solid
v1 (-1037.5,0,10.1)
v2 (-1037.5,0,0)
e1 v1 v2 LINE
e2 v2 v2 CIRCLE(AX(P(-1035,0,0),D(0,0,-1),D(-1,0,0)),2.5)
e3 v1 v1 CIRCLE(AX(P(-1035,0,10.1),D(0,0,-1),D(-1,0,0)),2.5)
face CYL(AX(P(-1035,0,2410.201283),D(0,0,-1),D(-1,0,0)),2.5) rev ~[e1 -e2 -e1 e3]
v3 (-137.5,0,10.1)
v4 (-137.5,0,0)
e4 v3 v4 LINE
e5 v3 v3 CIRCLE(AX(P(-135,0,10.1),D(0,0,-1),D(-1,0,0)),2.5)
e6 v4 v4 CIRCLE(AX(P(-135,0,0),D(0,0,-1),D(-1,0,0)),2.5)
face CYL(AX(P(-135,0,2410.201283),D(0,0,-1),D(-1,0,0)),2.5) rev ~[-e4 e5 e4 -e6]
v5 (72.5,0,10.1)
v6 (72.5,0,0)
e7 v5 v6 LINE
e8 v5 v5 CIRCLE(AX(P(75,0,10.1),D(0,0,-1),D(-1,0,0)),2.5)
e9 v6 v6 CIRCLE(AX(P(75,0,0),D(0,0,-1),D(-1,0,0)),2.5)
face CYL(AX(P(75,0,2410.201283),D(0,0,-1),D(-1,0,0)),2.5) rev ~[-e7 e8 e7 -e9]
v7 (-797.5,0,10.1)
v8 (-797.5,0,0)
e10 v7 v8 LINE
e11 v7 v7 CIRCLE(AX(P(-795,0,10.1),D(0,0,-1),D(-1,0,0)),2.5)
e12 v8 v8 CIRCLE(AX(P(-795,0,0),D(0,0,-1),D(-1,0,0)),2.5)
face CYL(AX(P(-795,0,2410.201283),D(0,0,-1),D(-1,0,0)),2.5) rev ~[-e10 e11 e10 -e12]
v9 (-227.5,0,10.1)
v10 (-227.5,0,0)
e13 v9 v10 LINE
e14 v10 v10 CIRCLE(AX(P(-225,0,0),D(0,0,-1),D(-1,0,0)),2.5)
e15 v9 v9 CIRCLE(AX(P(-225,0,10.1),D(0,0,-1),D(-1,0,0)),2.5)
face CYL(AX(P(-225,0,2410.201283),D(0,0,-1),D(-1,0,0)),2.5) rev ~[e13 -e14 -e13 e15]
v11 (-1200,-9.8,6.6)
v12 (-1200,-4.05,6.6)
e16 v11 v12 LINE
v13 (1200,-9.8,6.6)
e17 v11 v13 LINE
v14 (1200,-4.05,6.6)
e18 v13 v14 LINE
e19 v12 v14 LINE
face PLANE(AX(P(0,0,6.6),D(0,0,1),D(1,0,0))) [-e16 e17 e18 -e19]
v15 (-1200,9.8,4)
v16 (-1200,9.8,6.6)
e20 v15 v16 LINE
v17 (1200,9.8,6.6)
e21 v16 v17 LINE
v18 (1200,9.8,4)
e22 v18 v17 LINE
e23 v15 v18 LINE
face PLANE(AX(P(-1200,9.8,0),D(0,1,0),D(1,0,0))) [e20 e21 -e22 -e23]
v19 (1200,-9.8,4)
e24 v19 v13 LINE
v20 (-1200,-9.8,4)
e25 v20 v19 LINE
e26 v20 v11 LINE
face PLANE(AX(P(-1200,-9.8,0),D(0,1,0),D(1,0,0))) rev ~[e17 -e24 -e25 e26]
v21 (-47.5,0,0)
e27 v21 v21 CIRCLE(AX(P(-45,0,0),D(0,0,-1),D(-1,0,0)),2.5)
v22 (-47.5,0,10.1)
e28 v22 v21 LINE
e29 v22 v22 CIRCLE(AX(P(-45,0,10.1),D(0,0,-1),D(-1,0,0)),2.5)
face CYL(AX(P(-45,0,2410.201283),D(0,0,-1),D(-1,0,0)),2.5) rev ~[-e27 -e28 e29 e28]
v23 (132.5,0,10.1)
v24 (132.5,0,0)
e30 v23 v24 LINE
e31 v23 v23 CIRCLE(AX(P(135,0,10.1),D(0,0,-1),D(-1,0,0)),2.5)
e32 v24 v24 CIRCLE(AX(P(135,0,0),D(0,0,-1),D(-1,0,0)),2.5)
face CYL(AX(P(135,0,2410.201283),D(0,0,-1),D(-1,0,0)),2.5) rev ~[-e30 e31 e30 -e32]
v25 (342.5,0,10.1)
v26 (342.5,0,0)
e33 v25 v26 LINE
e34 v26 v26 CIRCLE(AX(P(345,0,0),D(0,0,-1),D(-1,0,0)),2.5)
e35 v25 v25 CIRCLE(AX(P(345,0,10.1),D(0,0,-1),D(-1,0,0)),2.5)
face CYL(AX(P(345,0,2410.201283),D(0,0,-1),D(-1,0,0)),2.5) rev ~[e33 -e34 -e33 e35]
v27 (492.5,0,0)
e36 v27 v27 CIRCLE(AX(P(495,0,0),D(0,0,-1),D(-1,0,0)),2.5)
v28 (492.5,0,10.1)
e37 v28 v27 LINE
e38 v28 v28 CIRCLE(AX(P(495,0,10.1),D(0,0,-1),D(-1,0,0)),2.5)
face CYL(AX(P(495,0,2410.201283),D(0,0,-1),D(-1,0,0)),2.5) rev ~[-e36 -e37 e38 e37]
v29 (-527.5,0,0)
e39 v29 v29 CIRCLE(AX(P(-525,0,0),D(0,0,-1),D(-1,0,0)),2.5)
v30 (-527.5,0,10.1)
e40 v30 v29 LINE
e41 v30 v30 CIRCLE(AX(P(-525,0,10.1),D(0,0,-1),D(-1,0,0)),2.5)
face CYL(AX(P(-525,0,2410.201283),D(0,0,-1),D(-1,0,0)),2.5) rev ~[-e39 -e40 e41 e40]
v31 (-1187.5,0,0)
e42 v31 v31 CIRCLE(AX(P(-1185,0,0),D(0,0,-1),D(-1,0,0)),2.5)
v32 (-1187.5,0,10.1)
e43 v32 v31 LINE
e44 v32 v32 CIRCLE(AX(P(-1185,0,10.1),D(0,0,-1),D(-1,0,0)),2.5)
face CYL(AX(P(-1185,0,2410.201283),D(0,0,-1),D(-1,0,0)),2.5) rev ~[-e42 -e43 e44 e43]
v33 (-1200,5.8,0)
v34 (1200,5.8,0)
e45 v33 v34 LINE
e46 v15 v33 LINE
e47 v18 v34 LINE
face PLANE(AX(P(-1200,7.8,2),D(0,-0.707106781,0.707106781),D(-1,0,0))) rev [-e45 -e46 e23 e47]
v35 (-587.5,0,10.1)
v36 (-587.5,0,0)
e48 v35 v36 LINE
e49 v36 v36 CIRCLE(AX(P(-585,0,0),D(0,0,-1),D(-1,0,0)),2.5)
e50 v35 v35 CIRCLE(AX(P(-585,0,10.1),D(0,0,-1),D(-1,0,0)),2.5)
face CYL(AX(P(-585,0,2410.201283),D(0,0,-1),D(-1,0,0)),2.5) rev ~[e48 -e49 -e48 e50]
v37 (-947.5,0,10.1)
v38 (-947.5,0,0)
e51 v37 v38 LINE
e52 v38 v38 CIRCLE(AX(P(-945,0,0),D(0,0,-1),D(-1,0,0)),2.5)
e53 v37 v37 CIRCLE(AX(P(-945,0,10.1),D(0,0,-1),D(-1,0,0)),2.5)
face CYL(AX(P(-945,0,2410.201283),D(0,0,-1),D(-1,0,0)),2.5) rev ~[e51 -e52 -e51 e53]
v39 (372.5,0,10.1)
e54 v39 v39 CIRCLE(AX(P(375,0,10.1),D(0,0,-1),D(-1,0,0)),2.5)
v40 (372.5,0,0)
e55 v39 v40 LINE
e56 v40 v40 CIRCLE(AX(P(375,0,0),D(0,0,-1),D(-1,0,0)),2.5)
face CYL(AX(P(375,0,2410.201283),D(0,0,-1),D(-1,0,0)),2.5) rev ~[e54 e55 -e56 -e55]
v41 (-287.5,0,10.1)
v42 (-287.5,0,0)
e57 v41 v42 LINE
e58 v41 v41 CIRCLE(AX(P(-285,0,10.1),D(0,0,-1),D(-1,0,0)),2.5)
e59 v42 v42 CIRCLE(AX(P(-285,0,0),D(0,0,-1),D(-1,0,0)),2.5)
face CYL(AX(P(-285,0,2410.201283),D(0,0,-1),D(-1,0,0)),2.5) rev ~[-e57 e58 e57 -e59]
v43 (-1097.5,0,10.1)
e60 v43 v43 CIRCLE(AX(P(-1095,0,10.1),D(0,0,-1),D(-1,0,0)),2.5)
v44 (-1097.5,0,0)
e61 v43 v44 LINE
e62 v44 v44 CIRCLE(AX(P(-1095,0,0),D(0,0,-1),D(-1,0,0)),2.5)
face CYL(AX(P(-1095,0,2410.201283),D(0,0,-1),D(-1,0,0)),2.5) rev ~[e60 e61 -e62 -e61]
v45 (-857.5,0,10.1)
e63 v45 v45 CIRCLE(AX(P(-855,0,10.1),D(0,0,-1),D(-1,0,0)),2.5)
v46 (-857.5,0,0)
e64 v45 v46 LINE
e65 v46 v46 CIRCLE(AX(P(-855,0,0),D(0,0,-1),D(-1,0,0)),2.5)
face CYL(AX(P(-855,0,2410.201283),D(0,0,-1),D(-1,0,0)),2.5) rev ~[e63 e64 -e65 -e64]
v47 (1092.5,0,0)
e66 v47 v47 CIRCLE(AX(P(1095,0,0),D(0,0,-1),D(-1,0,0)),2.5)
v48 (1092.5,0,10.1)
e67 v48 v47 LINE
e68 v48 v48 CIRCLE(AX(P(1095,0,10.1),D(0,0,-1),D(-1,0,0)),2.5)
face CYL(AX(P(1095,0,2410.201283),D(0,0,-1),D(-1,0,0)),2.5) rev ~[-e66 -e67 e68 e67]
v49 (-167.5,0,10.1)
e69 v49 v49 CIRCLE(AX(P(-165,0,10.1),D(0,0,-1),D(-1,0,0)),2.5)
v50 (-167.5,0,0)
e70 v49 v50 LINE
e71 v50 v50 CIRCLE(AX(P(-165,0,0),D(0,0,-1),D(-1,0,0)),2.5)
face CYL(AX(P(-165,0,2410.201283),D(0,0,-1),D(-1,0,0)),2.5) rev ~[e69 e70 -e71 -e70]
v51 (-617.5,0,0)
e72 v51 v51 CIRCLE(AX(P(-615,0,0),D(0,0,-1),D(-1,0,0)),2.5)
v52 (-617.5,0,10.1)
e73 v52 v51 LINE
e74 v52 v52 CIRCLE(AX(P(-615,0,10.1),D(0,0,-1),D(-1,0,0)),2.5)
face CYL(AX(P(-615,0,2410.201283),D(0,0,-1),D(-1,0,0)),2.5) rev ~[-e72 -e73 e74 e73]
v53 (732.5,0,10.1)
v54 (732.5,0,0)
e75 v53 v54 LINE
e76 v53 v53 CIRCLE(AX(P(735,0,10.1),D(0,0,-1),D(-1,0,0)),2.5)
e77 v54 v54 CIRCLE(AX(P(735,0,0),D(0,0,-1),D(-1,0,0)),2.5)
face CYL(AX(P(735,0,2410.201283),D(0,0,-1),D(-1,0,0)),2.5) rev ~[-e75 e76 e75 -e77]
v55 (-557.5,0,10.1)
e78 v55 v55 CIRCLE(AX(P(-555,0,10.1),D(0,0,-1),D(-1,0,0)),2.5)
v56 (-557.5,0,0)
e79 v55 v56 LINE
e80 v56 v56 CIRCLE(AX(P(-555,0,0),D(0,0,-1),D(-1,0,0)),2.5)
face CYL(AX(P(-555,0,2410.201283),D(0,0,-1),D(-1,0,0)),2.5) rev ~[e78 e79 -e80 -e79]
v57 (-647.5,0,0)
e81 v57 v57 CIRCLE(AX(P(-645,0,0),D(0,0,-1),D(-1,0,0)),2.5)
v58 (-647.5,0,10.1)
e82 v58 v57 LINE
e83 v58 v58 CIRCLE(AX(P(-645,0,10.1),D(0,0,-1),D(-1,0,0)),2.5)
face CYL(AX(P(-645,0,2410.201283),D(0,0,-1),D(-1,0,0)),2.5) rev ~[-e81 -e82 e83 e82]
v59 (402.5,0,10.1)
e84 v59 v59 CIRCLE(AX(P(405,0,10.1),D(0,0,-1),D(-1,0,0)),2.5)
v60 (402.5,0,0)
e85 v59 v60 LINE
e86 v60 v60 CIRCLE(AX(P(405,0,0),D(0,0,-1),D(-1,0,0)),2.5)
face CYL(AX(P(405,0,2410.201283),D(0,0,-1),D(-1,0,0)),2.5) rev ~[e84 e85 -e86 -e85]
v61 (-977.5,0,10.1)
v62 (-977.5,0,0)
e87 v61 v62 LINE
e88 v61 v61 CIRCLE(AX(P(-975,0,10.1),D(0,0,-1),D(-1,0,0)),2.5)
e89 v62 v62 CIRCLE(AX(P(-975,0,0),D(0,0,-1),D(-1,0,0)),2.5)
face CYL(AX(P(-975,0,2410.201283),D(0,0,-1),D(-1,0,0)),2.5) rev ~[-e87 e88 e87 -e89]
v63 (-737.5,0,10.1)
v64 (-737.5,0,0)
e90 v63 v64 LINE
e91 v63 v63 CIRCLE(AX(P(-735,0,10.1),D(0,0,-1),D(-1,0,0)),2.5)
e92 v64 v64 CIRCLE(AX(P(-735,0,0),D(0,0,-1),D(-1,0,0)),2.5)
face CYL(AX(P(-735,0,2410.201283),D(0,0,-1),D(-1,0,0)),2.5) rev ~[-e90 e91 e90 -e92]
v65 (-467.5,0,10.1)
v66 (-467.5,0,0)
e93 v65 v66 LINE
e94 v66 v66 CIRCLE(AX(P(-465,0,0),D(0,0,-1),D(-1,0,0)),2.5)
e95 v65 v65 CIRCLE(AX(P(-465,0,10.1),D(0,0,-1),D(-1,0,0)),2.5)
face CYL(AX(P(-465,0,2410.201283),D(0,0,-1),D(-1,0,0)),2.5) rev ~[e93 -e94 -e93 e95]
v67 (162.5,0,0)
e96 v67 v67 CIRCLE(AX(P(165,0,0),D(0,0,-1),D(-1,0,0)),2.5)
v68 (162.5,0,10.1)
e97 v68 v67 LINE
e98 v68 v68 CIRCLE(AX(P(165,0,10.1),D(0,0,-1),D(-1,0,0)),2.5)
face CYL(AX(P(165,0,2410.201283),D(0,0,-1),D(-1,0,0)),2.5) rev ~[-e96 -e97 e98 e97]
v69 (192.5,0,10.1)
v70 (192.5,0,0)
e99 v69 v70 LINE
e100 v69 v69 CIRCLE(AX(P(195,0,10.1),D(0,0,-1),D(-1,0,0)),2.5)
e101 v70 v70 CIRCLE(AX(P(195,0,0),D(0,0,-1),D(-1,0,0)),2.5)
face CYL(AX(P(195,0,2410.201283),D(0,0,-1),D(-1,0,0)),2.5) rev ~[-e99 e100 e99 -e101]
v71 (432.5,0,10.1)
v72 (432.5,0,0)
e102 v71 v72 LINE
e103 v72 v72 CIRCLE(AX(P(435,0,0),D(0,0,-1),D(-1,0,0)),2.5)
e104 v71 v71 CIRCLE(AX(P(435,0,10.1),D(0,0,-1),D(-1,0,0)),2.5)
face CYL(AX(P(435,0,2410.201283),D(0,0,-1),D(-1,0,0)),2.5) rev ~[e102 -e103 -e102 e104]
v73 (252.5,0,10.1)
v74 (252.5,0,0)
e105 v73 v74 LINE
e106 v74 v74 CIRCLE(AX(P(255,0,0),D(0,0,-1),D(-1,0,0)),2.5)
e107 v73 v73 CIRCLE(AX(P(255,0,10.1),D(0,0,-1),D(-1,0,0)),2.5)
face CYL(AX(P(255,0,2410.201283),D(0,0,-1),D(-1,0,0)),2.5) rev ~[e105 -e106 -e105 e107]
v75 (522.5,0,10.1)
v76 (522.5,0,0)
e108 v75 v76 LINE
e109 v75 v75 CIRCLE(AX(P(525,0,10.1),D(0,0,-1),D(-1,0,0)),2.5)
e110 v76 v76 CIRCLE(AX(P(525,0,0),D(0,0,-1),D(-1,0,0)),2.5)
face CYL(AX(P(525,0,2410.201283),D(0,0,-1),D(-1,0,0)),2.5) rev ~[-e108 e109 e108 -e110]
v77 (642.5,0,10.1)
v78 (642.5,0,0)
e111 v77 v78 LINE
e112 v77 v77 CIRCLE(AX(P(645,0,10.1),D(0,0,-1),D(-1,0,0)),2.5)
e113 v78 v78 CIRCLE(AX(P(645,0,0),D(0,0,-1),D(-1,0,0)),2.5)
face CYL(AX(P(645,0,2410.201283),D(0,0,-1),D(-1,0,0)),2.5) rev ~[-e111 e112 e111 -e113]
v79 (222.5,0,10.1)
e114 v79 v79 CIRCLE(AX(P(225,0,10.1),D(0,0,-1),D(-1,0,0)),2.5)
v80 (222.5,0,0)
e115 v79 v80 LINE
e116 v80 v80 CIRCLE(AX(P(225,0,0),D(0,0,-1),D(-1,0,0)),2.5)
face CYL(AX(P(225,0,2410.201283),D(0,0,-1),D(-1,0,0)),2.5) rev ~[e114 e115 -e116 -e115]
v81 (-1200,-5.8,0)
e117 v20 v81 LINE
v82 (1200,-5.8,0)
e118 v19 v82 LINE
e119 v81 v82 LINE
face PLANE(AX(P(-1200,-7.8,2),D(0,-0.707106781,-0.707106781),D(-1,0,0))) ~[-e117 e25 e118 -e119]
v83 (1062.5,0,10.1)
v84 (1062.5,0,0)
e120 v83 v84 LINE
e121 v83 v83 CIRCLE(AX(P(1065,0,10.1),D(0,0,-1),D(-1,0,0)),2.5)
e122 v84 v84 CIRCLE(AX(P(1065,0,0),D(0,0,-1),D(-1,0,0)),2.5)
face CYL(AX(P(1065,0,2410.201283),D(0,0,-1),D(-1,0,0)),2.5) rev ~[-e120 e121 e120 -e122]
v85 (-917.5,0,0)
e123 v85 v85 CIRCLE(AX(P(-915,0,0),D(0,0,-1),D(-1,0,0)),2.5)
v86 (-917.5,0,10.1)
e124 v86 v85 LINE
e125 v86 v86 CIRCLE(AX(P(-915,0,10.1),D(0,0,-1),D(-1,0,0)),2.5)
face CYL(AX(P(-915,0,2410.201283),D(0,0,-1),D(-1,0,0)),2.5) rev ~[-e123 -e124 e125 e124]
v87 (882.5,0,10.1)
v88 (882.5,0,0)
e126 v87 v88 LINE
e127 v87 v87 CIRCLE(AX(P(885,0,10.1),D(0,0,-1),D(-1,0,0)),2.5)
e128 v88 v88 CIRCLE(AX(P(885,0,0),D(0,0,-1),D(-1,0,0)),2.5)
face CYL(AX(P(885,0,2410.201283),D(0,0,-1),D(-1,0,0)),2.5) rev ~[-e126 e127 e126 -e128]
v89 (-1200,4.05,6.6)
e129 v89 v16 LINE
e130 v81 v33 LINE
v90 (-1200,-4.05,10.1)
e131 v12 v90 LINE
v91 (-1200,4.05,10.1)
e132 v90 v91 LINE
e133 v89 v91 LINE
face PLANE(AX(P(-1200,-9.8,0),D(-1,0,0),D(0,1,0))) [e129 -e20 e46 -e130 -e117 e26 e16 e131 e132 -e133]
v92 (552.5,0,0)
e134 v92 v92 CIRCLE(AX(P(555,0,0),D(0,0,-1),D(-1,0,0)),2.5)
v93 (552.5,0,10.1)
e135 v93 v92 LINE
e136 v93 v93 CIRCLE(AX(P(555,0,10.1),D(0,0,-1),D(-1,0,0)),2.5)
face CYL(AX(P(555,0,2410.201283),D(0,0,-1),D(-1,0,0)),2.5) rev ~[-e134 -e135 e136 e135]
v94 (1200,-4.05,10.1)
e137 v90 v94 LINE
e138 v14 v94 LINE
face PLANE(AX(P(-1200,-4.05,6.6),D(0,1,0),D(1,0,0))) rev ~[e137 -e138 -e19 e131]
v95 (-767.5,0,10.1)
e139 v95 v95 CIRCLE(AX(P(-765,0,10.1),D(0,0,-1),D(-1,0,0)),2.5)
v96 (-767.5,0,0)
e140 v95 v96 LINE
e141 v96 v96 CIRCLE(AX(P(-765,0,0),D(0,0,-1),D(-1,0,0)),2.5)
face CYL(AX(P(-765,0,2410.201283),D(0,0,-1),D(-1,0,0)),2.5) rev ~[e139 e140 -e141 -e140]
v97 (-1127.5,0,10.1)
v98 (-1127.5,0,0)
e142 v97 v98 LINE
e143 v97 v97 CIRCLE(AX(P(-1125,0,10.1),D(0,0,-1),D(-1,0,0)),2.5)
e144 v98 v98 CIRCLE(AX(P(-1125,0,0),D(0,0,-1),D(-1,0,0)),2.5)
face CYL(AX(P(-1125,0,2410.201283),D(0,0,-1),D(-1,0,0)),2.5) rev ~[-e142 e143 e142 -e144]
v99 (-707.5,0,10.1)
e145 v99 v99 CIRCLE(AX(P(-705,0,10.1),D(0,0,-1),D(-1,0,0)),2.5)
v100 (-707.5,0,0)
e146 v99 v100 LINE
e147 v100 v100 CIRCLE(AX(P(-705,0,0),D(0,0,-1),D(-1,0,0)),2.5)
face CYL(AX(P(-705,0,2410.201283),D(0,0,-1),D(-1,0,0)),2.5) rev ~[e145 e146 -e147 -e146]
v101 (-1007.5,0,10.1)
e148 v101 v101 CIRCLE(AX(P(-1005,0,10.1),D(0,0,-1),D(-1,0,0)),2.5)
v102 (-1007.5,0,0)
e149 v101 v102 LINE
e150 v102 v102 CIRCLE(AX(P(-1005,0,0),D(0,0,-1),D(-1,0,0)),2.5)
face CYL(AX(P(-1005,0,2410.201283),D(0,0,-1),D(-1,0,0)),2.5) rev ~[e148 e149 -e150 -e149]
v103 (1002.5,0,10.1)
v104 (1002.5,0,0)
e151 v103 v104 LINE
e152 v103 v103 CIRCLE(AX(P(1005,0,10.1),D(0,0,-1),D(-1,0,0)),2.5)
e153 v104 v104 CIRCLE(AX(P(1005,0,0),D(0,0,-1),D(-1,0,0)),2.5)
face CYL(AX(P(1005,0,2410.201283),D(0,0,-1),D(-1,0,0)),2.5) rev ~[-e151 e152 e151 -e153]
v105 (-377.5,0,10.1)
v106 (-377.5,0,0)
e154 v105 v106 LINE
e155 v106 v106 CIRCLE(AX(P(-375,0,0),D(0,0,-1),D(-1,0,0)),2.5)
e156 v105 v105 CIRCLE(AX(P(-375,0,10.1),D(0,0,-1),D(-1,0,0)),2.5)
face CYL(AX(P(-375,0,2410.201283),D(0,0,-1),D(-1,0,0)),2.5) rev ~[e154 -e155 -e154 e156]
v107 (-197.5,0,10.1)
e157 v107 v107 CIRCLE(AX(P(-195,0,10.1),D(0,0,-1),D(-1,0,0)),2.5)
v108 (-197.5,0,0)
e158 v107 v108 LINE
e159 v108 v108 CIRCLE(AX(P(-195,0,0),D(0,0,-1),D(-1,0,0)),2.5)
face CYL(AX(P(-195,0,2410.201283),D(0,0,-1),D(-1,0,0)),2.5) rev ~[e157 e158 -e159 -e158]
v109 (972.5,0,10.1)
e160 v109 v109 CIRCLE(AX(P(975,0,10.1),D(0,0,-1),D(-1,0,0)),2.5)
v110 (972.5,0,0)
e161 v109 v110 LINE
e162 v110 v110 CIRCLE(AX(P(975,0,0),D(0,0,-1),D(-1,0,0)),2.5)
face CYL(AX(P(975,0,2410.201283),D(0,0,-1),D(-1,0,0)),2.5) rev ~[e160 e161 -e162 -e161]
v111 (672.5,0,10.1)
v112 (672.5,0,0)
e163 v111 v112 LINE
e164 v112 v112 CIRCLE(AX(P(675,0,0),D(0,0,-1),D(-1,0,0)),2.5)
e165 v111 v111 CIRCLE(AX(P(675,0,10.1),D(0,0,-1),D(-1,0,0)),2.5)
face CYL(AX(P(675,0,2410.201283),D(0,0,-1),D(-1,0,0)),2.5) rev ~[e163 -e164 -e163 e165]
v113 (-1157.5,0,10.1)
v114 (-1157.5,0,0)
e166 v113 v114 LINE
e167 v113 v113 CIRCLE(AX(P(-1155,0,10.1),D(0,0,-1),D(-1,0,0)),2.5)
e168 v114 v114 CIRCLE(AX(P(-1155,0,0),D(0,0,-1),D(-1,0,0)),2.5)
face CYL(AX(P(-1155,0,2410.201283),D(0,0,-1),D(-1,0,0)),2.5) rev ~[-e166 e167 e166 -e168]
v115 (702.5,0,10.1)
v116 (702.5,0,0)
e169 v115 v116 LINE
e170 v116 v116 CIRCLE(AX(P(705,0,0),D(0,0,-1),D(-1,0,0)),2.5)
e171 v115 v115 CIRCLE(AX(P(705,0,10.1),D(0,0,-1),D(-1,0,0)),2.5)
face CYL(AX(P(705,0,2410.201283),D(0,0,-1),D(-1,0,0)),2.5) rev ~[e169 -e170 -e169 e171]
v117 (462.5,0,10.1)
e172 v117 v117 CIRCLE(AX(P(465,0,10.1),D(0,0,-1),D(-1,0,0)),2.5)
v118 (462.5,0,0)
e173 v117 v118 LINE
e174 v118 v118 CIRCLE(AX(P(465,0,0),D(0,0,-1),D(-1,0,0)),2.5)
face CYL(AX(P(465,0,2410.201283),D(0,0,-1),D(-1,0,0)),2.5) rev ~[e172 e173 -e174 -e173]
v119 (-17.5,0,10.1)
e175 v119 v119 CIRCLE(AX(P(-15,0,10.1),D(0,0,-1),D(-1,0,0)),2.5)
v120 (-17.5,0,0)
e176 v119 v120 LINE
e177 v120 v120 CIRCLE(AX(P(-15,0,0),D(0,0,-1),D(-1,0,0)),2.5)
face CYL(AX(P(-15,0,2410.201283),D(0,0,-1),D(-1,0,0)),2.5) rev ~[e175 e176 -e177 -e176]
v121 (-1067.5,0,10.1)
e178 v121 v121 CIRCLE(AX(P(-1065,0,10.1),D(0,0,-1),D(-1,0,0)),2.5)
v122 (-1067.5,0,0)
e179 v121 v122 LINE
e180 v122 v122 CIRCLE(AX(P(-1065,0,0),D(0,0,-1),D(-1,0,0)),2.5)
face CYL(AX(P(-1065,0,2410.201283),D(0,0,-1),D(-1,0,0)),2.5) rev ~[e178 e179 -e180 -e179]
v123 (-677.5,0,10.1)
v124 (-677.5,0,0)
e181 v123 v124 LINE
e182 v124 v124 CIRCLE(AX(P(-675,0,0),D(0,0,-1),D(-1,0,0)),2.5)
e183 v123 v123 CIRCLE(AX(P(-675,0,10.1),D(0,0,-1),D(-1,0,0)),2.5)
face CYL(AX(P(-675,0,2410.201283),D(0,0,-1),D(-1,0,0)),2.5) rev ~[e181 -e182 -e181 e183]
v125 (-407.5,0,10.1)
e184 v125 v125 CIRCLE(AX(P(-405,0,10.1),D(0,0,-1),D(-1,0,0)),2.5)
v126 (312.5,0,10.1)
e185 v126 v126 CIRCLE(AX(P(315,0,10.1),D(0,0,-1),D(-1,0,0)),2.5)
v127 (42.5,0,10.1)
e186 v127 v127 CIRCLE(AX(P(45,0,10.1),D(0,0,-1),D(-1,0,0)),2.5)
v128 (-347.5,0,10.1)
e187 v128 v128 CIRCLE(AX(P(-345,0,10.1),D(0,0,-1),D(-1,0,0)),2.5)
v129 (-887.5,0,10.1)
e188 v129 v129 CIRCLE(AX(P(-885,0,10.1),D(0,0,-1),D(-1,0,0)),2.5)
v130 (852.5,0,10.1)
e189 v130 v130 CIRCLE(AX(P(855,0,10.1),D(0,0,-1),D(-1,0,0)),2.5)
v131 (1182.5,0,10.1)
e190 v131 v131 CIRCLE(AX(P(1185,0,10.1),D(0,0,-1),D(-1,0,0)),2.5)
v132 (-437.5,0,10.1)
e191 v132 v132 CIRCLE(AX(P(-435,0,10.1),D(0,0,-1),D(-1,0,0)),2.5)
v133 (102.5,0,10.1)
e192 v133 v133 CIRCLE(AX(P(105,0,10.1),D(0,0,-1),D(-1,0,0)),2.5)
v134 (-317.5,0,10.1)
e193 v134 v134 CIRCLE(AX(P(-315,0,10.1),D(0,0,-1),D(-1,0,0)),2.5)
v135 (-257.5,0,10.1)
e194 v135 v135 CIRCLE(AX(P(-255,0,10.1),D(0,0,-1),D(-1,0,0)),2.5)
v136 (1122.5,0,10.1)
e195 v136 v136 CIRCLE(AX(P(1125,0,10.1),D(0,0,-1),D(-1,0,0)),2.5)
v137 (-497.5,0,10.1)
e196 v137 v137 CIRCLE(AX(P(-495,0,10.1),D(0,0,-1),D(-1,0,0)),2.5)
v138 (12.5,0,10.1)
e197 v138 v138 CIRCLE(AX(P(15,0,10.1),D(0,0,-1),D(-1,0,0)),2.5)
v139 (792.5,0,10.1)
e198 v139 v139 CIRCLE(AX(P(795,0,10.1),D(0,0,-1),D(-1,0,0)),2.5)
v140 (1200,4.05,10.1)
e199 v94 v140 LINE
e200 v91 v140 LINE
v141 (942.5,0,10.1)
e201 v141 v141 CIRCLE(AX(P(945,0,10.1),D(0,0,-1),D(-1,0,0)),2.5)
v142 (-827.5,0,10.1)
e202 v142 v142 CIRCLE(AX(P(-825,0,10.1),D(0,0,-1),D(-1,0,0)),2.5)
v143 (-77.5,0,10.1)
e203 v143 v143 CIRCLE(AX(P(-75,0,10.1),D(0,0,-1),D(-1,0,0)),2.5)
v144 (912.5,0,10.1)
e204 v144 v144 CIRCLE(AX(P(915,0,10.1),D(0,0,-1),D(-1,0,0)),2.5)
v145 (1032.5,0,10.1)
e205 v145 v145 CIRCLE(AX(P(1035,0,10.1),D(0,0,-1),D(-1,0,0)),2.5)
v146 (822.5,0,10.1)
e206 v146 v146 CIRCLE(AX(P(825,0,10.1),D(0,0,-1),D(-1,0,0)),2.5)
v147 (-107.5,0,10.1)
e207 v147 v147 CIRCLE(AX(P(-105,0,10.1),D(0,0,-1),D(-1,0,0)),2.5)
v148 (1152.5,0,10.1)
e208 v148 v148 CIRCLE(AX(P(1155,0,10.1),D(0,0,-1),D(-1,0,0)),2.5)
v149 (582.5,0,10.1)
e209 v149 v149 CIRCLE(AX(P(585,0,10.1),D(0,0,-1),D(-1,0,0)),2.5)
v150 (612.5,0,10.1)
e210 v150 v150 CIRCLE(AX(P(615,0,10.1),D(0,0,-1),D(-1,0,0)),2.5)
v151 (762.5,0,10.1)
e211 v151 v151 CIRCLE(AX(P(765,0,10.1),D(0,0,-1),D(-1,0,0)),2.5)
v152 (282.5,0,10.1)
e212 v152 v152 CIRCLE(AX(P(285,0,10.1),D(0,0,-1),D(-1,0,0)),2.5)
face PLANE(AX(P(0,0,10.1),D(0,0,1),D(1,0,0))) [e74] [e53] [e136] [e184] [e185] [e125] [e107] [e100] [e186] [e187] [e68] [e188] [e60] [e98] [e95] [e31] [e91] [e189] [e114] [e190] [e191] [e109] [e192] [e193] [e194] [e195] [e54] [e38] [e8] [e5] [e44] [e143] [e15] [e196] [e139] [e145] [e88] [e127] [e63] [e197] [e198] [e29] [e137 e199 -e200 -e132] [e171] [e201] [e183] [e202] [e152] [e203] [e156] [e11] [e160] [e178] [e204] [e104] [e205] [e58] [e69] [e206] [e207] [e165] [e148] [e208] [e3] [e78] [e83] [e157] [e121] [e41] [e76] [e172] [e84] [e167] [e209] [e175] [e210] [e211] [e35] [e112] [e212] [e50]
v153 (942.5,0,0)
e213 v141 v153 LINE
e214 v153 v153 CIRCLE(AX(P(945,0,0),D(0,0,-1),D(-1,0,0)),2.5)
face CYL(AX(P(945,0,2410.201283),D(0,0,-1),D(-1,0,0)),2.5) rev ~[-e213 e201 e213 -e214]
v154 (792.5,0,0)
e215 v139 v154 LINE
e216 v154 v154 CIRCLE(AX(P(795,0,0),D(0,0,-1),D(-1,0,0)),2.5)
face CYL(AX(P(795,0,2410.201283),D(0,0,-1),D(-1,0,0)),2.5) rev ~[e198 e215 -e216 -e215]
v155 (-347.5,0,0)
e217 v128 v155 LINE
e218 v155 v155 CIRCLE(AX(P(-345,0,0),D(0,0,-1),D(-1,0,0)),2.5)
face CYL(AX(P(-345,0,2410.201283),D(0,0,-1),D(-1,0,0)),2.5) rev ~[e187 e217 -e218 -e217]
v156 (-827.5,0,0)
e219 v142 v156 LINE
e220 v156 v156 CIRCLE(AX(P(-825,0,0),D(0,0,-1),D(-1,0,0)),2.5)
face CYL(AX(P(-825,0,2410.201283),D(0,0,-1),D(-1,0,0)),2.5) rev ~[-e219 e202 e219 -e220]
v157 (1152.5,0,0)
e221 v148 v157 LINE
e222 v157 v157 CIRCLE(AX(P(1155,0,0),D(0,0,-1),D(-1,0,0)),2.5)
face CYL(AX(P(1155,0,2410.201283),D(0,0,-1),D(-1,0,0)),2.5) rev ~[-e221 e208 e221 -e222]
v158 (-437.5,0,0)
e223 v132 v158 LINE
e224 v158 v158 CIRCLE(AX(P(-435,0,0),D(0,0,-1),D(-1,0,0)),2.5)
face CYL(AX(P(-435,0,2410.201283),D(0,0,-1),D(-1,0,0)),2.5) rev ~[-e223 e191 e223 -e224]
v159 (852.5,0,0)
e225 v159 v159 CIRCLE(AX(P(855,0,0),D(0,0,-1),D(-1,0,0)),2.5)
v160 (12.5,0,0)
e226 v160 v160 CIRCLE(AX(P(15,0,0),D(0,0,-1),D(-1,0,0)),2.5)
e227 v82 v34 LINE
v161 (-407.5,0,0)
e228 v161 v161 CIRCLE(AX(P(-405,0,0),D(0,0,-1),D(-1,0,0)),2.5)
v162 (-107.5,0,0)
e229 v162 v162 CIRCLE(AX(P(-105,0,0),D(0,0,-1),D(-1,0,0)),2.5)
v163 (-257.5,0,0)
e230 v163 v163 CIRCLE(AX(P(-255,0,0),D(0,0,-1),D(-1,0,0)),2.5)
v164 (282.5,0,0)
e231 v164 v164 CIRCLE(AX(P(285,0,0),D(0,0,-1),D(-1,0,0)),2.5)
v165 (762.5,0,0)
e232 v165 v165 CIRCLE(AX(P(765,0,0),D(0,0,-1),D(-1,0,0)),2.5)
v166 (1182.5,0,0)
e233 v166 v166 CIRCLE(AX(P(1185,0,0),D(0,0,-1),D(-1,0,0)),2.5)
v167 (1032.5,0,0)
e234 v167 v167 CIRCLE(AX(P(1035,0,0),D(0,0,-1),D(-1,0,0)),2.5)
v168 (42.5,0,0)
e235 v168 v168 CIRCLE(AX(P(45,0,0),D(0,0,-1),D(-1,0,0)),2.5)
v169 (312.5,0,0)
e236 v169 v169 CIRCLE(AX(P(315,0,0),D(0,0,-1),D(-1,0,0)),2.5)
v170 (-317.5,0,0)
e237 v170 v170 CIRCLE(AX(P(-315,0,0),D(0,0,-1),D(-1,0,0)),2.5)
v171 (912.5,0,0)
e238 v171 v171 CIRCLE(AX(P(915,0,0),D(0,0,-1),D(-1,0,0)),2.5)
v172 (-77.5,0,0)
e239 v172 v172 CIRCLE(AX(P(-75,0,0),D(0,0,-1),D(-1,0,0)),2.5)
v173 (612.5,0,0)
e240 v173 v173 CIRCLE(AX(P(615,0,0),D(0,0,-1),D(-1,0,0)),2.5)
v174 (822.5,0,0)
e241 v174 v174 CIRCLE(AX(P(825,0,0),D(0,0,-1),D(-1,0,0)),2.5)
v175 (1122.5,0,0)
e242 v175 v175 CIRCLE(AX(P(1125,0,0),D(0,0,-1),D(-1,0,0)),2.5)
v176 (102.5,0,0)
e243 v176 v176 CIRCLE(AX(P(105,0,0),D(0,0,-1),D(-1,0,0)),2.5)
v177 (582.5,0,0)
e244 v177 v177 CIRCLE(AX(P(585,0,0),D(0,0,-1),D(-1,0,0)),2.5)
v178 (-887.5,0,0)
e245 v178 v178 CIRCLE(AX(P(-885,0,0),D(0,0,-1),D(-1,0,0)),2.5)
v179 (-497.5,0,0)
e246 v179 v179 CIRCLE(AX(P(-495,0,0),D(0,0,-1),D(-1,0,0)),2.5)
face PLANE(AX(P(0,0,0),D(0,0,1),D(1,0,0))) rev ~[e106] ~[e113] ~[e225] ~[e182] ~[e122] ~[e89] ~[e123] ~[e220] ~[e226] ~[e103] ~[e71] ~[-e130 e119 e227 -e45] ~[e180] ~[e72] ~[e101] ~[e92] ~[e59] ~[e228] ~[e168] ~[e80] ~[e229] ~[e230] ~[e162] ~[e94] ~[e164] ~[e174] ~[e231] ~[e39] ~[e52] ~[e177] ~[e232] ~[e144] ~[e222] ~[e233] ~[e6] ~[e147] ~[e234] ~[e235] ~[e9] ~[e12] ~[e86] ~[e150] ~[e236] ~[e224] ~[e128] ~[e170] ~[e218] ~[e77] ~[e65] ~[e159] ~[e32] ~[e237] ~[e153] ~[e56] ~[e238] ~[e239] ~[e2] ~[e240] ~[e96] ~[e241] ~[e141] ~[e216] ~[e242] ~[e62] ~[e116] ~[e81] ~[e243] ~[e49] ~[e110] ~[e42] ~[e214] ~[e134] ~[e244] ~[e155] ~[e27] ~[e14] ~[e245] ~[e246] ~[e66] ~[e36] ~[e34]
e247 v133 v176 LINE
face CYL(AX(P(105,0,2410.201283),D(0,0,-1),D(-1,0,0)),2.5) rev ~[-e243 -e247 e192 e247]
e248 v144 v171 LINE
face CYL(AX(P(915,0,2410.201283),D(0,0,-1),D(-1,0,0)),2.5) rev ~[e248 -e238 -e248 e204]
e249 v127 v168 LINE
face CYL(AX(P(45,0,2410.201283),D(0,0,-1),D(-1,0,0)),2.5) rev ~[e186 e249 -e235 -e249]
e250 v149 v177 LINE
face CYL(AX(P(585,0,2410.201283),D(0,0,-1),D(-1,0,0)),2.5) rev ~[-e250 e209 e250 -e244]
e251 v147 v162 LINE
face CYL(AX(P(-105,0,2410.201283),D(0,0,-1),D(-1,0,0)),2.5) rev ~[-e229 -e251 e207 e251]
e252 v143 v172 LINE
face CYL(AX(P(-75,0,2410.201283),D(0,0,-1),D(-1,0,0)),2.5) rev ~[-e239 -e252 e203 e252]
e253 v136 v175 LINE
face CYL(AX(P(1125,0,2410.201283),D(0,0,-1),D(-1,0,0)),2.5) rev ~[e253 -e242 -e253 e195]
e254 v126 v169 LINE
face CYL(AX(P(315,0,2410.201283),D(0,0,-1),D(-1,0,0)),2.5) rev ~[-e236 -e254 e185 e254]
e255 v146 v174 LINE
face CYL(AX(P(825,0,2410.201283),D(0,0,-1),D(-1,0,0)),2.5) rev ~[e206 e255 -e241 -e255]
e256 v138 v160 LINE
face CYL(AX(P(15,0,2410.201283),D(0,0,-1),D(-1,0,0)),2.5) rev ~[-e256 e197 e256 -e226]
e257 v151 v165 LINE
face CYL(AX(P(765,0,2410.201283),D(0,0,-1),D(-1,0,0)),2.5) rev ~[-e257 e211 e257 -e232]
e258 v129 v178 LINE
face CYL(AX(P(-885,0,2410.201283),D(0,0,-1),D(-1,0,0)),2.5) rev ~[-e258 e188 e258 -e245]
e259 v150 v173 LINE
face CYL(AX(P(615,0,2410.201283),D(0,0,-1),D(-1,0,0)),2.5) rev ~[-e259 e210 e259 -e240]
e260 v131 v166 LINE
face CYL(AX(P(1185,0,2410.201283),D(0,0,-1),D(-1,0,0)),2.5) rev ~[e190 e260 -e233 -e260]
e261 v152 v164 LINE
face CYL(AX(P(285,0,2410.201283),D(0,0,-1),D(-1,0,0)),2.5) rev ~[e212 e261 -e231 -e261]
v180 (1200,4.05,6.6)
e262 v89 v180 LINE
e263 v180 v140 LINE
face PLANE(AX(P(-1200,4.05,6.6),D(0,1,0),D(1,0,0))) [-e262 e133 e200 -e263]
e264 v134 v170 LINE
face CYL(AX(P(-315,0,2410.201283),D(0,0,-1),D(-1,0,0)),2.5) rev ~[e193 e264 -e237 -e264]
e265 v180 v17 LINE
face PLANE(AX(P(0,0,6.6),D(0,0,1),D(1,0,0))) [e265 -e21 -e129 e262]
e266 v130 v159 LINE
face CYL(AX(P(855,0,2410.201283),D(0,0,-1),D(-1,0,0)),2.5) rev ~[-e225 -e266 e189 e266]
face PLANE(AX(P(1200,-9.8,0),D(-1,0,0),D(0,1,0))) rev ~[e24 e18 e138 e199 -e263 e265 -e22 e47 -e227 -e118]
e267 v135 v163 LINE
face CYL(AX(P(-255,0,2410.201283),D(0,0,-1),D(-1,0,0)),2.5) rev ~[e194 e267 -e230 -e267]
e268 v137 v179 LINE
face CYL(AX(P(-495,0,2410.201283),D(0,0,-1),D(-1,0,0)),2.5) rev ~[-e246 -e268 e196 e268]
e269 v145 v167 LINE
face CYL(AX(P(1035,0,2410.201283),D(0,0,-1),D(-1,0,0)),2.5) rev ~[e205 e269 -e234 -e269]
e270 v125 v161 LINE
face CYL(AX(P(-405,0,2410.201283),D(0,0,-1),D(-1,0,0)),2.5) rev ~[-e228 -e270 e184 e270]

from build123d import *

# Parameters (mm, degrees)
SKETCH_1_W             = 2400
SKETCH_1_H             = 19.6
EXTRUDE_1_DEPTH        = 6.6
SKETCH_2_W             = 2400
SKETCH_2_H             = 8.1
EXTRUDE_2_DEPTH        = 3.5
CHAMFER_1_SIZE         = 4
HOLE_WIZARD_M6_1_D     = 5
PATTERN_LINEAR_1_COUNT = 80
PATTERN_LINEAR_1_PITCH = 30


with BuildPart() as part:
    # 草图1 → 凸台-拉伸1 (new body)
    with BuildSketch(Plane.XY):
        Rectangle(SKETCH_1_W, SKETCH_1_H)
    extrude(amount=EXTRUDE_1_DEPTH)

    # 草图2 → 凸台-拉伸2 (add)
    with BuildSketch(Plane.XY.offset(6.6)):
        Rectangle(SKETCH_2_W, SKETCH_2_H)
    extrude(amount=EXTRUDE_2_DEPTH)

    # 倒角1
    chamfer_1_edges = [part.edges().sort_by_distance(p)[0] for p in [
        (0, -9.8, 0),
        (0, 9.8, 0),
    ]]
    chamfer(chamfer_1_edges, length=CHAMFER_1_SIZE)

    # M6 螺纹孔1 (through all)
    with Locations(Plane.XY.offset(10.1)):
        with Locations((-1185, 0)):
            hole_wizard_m6_1 = Hole(HOLE_WIZARD_M6_1_D / 2)

    # 阵列(线性)1: M6 螺纹孔1 ×80
    with Locations(*[(i * PATTERN_LINEAR_1_PITCH, 0, 0) for i in range(1, PATTERN_LINEAR_1_COUNT)]):
        add(hole_wizard_m6_1, mode=Mode.SUBTRACT)


solid = part.part
